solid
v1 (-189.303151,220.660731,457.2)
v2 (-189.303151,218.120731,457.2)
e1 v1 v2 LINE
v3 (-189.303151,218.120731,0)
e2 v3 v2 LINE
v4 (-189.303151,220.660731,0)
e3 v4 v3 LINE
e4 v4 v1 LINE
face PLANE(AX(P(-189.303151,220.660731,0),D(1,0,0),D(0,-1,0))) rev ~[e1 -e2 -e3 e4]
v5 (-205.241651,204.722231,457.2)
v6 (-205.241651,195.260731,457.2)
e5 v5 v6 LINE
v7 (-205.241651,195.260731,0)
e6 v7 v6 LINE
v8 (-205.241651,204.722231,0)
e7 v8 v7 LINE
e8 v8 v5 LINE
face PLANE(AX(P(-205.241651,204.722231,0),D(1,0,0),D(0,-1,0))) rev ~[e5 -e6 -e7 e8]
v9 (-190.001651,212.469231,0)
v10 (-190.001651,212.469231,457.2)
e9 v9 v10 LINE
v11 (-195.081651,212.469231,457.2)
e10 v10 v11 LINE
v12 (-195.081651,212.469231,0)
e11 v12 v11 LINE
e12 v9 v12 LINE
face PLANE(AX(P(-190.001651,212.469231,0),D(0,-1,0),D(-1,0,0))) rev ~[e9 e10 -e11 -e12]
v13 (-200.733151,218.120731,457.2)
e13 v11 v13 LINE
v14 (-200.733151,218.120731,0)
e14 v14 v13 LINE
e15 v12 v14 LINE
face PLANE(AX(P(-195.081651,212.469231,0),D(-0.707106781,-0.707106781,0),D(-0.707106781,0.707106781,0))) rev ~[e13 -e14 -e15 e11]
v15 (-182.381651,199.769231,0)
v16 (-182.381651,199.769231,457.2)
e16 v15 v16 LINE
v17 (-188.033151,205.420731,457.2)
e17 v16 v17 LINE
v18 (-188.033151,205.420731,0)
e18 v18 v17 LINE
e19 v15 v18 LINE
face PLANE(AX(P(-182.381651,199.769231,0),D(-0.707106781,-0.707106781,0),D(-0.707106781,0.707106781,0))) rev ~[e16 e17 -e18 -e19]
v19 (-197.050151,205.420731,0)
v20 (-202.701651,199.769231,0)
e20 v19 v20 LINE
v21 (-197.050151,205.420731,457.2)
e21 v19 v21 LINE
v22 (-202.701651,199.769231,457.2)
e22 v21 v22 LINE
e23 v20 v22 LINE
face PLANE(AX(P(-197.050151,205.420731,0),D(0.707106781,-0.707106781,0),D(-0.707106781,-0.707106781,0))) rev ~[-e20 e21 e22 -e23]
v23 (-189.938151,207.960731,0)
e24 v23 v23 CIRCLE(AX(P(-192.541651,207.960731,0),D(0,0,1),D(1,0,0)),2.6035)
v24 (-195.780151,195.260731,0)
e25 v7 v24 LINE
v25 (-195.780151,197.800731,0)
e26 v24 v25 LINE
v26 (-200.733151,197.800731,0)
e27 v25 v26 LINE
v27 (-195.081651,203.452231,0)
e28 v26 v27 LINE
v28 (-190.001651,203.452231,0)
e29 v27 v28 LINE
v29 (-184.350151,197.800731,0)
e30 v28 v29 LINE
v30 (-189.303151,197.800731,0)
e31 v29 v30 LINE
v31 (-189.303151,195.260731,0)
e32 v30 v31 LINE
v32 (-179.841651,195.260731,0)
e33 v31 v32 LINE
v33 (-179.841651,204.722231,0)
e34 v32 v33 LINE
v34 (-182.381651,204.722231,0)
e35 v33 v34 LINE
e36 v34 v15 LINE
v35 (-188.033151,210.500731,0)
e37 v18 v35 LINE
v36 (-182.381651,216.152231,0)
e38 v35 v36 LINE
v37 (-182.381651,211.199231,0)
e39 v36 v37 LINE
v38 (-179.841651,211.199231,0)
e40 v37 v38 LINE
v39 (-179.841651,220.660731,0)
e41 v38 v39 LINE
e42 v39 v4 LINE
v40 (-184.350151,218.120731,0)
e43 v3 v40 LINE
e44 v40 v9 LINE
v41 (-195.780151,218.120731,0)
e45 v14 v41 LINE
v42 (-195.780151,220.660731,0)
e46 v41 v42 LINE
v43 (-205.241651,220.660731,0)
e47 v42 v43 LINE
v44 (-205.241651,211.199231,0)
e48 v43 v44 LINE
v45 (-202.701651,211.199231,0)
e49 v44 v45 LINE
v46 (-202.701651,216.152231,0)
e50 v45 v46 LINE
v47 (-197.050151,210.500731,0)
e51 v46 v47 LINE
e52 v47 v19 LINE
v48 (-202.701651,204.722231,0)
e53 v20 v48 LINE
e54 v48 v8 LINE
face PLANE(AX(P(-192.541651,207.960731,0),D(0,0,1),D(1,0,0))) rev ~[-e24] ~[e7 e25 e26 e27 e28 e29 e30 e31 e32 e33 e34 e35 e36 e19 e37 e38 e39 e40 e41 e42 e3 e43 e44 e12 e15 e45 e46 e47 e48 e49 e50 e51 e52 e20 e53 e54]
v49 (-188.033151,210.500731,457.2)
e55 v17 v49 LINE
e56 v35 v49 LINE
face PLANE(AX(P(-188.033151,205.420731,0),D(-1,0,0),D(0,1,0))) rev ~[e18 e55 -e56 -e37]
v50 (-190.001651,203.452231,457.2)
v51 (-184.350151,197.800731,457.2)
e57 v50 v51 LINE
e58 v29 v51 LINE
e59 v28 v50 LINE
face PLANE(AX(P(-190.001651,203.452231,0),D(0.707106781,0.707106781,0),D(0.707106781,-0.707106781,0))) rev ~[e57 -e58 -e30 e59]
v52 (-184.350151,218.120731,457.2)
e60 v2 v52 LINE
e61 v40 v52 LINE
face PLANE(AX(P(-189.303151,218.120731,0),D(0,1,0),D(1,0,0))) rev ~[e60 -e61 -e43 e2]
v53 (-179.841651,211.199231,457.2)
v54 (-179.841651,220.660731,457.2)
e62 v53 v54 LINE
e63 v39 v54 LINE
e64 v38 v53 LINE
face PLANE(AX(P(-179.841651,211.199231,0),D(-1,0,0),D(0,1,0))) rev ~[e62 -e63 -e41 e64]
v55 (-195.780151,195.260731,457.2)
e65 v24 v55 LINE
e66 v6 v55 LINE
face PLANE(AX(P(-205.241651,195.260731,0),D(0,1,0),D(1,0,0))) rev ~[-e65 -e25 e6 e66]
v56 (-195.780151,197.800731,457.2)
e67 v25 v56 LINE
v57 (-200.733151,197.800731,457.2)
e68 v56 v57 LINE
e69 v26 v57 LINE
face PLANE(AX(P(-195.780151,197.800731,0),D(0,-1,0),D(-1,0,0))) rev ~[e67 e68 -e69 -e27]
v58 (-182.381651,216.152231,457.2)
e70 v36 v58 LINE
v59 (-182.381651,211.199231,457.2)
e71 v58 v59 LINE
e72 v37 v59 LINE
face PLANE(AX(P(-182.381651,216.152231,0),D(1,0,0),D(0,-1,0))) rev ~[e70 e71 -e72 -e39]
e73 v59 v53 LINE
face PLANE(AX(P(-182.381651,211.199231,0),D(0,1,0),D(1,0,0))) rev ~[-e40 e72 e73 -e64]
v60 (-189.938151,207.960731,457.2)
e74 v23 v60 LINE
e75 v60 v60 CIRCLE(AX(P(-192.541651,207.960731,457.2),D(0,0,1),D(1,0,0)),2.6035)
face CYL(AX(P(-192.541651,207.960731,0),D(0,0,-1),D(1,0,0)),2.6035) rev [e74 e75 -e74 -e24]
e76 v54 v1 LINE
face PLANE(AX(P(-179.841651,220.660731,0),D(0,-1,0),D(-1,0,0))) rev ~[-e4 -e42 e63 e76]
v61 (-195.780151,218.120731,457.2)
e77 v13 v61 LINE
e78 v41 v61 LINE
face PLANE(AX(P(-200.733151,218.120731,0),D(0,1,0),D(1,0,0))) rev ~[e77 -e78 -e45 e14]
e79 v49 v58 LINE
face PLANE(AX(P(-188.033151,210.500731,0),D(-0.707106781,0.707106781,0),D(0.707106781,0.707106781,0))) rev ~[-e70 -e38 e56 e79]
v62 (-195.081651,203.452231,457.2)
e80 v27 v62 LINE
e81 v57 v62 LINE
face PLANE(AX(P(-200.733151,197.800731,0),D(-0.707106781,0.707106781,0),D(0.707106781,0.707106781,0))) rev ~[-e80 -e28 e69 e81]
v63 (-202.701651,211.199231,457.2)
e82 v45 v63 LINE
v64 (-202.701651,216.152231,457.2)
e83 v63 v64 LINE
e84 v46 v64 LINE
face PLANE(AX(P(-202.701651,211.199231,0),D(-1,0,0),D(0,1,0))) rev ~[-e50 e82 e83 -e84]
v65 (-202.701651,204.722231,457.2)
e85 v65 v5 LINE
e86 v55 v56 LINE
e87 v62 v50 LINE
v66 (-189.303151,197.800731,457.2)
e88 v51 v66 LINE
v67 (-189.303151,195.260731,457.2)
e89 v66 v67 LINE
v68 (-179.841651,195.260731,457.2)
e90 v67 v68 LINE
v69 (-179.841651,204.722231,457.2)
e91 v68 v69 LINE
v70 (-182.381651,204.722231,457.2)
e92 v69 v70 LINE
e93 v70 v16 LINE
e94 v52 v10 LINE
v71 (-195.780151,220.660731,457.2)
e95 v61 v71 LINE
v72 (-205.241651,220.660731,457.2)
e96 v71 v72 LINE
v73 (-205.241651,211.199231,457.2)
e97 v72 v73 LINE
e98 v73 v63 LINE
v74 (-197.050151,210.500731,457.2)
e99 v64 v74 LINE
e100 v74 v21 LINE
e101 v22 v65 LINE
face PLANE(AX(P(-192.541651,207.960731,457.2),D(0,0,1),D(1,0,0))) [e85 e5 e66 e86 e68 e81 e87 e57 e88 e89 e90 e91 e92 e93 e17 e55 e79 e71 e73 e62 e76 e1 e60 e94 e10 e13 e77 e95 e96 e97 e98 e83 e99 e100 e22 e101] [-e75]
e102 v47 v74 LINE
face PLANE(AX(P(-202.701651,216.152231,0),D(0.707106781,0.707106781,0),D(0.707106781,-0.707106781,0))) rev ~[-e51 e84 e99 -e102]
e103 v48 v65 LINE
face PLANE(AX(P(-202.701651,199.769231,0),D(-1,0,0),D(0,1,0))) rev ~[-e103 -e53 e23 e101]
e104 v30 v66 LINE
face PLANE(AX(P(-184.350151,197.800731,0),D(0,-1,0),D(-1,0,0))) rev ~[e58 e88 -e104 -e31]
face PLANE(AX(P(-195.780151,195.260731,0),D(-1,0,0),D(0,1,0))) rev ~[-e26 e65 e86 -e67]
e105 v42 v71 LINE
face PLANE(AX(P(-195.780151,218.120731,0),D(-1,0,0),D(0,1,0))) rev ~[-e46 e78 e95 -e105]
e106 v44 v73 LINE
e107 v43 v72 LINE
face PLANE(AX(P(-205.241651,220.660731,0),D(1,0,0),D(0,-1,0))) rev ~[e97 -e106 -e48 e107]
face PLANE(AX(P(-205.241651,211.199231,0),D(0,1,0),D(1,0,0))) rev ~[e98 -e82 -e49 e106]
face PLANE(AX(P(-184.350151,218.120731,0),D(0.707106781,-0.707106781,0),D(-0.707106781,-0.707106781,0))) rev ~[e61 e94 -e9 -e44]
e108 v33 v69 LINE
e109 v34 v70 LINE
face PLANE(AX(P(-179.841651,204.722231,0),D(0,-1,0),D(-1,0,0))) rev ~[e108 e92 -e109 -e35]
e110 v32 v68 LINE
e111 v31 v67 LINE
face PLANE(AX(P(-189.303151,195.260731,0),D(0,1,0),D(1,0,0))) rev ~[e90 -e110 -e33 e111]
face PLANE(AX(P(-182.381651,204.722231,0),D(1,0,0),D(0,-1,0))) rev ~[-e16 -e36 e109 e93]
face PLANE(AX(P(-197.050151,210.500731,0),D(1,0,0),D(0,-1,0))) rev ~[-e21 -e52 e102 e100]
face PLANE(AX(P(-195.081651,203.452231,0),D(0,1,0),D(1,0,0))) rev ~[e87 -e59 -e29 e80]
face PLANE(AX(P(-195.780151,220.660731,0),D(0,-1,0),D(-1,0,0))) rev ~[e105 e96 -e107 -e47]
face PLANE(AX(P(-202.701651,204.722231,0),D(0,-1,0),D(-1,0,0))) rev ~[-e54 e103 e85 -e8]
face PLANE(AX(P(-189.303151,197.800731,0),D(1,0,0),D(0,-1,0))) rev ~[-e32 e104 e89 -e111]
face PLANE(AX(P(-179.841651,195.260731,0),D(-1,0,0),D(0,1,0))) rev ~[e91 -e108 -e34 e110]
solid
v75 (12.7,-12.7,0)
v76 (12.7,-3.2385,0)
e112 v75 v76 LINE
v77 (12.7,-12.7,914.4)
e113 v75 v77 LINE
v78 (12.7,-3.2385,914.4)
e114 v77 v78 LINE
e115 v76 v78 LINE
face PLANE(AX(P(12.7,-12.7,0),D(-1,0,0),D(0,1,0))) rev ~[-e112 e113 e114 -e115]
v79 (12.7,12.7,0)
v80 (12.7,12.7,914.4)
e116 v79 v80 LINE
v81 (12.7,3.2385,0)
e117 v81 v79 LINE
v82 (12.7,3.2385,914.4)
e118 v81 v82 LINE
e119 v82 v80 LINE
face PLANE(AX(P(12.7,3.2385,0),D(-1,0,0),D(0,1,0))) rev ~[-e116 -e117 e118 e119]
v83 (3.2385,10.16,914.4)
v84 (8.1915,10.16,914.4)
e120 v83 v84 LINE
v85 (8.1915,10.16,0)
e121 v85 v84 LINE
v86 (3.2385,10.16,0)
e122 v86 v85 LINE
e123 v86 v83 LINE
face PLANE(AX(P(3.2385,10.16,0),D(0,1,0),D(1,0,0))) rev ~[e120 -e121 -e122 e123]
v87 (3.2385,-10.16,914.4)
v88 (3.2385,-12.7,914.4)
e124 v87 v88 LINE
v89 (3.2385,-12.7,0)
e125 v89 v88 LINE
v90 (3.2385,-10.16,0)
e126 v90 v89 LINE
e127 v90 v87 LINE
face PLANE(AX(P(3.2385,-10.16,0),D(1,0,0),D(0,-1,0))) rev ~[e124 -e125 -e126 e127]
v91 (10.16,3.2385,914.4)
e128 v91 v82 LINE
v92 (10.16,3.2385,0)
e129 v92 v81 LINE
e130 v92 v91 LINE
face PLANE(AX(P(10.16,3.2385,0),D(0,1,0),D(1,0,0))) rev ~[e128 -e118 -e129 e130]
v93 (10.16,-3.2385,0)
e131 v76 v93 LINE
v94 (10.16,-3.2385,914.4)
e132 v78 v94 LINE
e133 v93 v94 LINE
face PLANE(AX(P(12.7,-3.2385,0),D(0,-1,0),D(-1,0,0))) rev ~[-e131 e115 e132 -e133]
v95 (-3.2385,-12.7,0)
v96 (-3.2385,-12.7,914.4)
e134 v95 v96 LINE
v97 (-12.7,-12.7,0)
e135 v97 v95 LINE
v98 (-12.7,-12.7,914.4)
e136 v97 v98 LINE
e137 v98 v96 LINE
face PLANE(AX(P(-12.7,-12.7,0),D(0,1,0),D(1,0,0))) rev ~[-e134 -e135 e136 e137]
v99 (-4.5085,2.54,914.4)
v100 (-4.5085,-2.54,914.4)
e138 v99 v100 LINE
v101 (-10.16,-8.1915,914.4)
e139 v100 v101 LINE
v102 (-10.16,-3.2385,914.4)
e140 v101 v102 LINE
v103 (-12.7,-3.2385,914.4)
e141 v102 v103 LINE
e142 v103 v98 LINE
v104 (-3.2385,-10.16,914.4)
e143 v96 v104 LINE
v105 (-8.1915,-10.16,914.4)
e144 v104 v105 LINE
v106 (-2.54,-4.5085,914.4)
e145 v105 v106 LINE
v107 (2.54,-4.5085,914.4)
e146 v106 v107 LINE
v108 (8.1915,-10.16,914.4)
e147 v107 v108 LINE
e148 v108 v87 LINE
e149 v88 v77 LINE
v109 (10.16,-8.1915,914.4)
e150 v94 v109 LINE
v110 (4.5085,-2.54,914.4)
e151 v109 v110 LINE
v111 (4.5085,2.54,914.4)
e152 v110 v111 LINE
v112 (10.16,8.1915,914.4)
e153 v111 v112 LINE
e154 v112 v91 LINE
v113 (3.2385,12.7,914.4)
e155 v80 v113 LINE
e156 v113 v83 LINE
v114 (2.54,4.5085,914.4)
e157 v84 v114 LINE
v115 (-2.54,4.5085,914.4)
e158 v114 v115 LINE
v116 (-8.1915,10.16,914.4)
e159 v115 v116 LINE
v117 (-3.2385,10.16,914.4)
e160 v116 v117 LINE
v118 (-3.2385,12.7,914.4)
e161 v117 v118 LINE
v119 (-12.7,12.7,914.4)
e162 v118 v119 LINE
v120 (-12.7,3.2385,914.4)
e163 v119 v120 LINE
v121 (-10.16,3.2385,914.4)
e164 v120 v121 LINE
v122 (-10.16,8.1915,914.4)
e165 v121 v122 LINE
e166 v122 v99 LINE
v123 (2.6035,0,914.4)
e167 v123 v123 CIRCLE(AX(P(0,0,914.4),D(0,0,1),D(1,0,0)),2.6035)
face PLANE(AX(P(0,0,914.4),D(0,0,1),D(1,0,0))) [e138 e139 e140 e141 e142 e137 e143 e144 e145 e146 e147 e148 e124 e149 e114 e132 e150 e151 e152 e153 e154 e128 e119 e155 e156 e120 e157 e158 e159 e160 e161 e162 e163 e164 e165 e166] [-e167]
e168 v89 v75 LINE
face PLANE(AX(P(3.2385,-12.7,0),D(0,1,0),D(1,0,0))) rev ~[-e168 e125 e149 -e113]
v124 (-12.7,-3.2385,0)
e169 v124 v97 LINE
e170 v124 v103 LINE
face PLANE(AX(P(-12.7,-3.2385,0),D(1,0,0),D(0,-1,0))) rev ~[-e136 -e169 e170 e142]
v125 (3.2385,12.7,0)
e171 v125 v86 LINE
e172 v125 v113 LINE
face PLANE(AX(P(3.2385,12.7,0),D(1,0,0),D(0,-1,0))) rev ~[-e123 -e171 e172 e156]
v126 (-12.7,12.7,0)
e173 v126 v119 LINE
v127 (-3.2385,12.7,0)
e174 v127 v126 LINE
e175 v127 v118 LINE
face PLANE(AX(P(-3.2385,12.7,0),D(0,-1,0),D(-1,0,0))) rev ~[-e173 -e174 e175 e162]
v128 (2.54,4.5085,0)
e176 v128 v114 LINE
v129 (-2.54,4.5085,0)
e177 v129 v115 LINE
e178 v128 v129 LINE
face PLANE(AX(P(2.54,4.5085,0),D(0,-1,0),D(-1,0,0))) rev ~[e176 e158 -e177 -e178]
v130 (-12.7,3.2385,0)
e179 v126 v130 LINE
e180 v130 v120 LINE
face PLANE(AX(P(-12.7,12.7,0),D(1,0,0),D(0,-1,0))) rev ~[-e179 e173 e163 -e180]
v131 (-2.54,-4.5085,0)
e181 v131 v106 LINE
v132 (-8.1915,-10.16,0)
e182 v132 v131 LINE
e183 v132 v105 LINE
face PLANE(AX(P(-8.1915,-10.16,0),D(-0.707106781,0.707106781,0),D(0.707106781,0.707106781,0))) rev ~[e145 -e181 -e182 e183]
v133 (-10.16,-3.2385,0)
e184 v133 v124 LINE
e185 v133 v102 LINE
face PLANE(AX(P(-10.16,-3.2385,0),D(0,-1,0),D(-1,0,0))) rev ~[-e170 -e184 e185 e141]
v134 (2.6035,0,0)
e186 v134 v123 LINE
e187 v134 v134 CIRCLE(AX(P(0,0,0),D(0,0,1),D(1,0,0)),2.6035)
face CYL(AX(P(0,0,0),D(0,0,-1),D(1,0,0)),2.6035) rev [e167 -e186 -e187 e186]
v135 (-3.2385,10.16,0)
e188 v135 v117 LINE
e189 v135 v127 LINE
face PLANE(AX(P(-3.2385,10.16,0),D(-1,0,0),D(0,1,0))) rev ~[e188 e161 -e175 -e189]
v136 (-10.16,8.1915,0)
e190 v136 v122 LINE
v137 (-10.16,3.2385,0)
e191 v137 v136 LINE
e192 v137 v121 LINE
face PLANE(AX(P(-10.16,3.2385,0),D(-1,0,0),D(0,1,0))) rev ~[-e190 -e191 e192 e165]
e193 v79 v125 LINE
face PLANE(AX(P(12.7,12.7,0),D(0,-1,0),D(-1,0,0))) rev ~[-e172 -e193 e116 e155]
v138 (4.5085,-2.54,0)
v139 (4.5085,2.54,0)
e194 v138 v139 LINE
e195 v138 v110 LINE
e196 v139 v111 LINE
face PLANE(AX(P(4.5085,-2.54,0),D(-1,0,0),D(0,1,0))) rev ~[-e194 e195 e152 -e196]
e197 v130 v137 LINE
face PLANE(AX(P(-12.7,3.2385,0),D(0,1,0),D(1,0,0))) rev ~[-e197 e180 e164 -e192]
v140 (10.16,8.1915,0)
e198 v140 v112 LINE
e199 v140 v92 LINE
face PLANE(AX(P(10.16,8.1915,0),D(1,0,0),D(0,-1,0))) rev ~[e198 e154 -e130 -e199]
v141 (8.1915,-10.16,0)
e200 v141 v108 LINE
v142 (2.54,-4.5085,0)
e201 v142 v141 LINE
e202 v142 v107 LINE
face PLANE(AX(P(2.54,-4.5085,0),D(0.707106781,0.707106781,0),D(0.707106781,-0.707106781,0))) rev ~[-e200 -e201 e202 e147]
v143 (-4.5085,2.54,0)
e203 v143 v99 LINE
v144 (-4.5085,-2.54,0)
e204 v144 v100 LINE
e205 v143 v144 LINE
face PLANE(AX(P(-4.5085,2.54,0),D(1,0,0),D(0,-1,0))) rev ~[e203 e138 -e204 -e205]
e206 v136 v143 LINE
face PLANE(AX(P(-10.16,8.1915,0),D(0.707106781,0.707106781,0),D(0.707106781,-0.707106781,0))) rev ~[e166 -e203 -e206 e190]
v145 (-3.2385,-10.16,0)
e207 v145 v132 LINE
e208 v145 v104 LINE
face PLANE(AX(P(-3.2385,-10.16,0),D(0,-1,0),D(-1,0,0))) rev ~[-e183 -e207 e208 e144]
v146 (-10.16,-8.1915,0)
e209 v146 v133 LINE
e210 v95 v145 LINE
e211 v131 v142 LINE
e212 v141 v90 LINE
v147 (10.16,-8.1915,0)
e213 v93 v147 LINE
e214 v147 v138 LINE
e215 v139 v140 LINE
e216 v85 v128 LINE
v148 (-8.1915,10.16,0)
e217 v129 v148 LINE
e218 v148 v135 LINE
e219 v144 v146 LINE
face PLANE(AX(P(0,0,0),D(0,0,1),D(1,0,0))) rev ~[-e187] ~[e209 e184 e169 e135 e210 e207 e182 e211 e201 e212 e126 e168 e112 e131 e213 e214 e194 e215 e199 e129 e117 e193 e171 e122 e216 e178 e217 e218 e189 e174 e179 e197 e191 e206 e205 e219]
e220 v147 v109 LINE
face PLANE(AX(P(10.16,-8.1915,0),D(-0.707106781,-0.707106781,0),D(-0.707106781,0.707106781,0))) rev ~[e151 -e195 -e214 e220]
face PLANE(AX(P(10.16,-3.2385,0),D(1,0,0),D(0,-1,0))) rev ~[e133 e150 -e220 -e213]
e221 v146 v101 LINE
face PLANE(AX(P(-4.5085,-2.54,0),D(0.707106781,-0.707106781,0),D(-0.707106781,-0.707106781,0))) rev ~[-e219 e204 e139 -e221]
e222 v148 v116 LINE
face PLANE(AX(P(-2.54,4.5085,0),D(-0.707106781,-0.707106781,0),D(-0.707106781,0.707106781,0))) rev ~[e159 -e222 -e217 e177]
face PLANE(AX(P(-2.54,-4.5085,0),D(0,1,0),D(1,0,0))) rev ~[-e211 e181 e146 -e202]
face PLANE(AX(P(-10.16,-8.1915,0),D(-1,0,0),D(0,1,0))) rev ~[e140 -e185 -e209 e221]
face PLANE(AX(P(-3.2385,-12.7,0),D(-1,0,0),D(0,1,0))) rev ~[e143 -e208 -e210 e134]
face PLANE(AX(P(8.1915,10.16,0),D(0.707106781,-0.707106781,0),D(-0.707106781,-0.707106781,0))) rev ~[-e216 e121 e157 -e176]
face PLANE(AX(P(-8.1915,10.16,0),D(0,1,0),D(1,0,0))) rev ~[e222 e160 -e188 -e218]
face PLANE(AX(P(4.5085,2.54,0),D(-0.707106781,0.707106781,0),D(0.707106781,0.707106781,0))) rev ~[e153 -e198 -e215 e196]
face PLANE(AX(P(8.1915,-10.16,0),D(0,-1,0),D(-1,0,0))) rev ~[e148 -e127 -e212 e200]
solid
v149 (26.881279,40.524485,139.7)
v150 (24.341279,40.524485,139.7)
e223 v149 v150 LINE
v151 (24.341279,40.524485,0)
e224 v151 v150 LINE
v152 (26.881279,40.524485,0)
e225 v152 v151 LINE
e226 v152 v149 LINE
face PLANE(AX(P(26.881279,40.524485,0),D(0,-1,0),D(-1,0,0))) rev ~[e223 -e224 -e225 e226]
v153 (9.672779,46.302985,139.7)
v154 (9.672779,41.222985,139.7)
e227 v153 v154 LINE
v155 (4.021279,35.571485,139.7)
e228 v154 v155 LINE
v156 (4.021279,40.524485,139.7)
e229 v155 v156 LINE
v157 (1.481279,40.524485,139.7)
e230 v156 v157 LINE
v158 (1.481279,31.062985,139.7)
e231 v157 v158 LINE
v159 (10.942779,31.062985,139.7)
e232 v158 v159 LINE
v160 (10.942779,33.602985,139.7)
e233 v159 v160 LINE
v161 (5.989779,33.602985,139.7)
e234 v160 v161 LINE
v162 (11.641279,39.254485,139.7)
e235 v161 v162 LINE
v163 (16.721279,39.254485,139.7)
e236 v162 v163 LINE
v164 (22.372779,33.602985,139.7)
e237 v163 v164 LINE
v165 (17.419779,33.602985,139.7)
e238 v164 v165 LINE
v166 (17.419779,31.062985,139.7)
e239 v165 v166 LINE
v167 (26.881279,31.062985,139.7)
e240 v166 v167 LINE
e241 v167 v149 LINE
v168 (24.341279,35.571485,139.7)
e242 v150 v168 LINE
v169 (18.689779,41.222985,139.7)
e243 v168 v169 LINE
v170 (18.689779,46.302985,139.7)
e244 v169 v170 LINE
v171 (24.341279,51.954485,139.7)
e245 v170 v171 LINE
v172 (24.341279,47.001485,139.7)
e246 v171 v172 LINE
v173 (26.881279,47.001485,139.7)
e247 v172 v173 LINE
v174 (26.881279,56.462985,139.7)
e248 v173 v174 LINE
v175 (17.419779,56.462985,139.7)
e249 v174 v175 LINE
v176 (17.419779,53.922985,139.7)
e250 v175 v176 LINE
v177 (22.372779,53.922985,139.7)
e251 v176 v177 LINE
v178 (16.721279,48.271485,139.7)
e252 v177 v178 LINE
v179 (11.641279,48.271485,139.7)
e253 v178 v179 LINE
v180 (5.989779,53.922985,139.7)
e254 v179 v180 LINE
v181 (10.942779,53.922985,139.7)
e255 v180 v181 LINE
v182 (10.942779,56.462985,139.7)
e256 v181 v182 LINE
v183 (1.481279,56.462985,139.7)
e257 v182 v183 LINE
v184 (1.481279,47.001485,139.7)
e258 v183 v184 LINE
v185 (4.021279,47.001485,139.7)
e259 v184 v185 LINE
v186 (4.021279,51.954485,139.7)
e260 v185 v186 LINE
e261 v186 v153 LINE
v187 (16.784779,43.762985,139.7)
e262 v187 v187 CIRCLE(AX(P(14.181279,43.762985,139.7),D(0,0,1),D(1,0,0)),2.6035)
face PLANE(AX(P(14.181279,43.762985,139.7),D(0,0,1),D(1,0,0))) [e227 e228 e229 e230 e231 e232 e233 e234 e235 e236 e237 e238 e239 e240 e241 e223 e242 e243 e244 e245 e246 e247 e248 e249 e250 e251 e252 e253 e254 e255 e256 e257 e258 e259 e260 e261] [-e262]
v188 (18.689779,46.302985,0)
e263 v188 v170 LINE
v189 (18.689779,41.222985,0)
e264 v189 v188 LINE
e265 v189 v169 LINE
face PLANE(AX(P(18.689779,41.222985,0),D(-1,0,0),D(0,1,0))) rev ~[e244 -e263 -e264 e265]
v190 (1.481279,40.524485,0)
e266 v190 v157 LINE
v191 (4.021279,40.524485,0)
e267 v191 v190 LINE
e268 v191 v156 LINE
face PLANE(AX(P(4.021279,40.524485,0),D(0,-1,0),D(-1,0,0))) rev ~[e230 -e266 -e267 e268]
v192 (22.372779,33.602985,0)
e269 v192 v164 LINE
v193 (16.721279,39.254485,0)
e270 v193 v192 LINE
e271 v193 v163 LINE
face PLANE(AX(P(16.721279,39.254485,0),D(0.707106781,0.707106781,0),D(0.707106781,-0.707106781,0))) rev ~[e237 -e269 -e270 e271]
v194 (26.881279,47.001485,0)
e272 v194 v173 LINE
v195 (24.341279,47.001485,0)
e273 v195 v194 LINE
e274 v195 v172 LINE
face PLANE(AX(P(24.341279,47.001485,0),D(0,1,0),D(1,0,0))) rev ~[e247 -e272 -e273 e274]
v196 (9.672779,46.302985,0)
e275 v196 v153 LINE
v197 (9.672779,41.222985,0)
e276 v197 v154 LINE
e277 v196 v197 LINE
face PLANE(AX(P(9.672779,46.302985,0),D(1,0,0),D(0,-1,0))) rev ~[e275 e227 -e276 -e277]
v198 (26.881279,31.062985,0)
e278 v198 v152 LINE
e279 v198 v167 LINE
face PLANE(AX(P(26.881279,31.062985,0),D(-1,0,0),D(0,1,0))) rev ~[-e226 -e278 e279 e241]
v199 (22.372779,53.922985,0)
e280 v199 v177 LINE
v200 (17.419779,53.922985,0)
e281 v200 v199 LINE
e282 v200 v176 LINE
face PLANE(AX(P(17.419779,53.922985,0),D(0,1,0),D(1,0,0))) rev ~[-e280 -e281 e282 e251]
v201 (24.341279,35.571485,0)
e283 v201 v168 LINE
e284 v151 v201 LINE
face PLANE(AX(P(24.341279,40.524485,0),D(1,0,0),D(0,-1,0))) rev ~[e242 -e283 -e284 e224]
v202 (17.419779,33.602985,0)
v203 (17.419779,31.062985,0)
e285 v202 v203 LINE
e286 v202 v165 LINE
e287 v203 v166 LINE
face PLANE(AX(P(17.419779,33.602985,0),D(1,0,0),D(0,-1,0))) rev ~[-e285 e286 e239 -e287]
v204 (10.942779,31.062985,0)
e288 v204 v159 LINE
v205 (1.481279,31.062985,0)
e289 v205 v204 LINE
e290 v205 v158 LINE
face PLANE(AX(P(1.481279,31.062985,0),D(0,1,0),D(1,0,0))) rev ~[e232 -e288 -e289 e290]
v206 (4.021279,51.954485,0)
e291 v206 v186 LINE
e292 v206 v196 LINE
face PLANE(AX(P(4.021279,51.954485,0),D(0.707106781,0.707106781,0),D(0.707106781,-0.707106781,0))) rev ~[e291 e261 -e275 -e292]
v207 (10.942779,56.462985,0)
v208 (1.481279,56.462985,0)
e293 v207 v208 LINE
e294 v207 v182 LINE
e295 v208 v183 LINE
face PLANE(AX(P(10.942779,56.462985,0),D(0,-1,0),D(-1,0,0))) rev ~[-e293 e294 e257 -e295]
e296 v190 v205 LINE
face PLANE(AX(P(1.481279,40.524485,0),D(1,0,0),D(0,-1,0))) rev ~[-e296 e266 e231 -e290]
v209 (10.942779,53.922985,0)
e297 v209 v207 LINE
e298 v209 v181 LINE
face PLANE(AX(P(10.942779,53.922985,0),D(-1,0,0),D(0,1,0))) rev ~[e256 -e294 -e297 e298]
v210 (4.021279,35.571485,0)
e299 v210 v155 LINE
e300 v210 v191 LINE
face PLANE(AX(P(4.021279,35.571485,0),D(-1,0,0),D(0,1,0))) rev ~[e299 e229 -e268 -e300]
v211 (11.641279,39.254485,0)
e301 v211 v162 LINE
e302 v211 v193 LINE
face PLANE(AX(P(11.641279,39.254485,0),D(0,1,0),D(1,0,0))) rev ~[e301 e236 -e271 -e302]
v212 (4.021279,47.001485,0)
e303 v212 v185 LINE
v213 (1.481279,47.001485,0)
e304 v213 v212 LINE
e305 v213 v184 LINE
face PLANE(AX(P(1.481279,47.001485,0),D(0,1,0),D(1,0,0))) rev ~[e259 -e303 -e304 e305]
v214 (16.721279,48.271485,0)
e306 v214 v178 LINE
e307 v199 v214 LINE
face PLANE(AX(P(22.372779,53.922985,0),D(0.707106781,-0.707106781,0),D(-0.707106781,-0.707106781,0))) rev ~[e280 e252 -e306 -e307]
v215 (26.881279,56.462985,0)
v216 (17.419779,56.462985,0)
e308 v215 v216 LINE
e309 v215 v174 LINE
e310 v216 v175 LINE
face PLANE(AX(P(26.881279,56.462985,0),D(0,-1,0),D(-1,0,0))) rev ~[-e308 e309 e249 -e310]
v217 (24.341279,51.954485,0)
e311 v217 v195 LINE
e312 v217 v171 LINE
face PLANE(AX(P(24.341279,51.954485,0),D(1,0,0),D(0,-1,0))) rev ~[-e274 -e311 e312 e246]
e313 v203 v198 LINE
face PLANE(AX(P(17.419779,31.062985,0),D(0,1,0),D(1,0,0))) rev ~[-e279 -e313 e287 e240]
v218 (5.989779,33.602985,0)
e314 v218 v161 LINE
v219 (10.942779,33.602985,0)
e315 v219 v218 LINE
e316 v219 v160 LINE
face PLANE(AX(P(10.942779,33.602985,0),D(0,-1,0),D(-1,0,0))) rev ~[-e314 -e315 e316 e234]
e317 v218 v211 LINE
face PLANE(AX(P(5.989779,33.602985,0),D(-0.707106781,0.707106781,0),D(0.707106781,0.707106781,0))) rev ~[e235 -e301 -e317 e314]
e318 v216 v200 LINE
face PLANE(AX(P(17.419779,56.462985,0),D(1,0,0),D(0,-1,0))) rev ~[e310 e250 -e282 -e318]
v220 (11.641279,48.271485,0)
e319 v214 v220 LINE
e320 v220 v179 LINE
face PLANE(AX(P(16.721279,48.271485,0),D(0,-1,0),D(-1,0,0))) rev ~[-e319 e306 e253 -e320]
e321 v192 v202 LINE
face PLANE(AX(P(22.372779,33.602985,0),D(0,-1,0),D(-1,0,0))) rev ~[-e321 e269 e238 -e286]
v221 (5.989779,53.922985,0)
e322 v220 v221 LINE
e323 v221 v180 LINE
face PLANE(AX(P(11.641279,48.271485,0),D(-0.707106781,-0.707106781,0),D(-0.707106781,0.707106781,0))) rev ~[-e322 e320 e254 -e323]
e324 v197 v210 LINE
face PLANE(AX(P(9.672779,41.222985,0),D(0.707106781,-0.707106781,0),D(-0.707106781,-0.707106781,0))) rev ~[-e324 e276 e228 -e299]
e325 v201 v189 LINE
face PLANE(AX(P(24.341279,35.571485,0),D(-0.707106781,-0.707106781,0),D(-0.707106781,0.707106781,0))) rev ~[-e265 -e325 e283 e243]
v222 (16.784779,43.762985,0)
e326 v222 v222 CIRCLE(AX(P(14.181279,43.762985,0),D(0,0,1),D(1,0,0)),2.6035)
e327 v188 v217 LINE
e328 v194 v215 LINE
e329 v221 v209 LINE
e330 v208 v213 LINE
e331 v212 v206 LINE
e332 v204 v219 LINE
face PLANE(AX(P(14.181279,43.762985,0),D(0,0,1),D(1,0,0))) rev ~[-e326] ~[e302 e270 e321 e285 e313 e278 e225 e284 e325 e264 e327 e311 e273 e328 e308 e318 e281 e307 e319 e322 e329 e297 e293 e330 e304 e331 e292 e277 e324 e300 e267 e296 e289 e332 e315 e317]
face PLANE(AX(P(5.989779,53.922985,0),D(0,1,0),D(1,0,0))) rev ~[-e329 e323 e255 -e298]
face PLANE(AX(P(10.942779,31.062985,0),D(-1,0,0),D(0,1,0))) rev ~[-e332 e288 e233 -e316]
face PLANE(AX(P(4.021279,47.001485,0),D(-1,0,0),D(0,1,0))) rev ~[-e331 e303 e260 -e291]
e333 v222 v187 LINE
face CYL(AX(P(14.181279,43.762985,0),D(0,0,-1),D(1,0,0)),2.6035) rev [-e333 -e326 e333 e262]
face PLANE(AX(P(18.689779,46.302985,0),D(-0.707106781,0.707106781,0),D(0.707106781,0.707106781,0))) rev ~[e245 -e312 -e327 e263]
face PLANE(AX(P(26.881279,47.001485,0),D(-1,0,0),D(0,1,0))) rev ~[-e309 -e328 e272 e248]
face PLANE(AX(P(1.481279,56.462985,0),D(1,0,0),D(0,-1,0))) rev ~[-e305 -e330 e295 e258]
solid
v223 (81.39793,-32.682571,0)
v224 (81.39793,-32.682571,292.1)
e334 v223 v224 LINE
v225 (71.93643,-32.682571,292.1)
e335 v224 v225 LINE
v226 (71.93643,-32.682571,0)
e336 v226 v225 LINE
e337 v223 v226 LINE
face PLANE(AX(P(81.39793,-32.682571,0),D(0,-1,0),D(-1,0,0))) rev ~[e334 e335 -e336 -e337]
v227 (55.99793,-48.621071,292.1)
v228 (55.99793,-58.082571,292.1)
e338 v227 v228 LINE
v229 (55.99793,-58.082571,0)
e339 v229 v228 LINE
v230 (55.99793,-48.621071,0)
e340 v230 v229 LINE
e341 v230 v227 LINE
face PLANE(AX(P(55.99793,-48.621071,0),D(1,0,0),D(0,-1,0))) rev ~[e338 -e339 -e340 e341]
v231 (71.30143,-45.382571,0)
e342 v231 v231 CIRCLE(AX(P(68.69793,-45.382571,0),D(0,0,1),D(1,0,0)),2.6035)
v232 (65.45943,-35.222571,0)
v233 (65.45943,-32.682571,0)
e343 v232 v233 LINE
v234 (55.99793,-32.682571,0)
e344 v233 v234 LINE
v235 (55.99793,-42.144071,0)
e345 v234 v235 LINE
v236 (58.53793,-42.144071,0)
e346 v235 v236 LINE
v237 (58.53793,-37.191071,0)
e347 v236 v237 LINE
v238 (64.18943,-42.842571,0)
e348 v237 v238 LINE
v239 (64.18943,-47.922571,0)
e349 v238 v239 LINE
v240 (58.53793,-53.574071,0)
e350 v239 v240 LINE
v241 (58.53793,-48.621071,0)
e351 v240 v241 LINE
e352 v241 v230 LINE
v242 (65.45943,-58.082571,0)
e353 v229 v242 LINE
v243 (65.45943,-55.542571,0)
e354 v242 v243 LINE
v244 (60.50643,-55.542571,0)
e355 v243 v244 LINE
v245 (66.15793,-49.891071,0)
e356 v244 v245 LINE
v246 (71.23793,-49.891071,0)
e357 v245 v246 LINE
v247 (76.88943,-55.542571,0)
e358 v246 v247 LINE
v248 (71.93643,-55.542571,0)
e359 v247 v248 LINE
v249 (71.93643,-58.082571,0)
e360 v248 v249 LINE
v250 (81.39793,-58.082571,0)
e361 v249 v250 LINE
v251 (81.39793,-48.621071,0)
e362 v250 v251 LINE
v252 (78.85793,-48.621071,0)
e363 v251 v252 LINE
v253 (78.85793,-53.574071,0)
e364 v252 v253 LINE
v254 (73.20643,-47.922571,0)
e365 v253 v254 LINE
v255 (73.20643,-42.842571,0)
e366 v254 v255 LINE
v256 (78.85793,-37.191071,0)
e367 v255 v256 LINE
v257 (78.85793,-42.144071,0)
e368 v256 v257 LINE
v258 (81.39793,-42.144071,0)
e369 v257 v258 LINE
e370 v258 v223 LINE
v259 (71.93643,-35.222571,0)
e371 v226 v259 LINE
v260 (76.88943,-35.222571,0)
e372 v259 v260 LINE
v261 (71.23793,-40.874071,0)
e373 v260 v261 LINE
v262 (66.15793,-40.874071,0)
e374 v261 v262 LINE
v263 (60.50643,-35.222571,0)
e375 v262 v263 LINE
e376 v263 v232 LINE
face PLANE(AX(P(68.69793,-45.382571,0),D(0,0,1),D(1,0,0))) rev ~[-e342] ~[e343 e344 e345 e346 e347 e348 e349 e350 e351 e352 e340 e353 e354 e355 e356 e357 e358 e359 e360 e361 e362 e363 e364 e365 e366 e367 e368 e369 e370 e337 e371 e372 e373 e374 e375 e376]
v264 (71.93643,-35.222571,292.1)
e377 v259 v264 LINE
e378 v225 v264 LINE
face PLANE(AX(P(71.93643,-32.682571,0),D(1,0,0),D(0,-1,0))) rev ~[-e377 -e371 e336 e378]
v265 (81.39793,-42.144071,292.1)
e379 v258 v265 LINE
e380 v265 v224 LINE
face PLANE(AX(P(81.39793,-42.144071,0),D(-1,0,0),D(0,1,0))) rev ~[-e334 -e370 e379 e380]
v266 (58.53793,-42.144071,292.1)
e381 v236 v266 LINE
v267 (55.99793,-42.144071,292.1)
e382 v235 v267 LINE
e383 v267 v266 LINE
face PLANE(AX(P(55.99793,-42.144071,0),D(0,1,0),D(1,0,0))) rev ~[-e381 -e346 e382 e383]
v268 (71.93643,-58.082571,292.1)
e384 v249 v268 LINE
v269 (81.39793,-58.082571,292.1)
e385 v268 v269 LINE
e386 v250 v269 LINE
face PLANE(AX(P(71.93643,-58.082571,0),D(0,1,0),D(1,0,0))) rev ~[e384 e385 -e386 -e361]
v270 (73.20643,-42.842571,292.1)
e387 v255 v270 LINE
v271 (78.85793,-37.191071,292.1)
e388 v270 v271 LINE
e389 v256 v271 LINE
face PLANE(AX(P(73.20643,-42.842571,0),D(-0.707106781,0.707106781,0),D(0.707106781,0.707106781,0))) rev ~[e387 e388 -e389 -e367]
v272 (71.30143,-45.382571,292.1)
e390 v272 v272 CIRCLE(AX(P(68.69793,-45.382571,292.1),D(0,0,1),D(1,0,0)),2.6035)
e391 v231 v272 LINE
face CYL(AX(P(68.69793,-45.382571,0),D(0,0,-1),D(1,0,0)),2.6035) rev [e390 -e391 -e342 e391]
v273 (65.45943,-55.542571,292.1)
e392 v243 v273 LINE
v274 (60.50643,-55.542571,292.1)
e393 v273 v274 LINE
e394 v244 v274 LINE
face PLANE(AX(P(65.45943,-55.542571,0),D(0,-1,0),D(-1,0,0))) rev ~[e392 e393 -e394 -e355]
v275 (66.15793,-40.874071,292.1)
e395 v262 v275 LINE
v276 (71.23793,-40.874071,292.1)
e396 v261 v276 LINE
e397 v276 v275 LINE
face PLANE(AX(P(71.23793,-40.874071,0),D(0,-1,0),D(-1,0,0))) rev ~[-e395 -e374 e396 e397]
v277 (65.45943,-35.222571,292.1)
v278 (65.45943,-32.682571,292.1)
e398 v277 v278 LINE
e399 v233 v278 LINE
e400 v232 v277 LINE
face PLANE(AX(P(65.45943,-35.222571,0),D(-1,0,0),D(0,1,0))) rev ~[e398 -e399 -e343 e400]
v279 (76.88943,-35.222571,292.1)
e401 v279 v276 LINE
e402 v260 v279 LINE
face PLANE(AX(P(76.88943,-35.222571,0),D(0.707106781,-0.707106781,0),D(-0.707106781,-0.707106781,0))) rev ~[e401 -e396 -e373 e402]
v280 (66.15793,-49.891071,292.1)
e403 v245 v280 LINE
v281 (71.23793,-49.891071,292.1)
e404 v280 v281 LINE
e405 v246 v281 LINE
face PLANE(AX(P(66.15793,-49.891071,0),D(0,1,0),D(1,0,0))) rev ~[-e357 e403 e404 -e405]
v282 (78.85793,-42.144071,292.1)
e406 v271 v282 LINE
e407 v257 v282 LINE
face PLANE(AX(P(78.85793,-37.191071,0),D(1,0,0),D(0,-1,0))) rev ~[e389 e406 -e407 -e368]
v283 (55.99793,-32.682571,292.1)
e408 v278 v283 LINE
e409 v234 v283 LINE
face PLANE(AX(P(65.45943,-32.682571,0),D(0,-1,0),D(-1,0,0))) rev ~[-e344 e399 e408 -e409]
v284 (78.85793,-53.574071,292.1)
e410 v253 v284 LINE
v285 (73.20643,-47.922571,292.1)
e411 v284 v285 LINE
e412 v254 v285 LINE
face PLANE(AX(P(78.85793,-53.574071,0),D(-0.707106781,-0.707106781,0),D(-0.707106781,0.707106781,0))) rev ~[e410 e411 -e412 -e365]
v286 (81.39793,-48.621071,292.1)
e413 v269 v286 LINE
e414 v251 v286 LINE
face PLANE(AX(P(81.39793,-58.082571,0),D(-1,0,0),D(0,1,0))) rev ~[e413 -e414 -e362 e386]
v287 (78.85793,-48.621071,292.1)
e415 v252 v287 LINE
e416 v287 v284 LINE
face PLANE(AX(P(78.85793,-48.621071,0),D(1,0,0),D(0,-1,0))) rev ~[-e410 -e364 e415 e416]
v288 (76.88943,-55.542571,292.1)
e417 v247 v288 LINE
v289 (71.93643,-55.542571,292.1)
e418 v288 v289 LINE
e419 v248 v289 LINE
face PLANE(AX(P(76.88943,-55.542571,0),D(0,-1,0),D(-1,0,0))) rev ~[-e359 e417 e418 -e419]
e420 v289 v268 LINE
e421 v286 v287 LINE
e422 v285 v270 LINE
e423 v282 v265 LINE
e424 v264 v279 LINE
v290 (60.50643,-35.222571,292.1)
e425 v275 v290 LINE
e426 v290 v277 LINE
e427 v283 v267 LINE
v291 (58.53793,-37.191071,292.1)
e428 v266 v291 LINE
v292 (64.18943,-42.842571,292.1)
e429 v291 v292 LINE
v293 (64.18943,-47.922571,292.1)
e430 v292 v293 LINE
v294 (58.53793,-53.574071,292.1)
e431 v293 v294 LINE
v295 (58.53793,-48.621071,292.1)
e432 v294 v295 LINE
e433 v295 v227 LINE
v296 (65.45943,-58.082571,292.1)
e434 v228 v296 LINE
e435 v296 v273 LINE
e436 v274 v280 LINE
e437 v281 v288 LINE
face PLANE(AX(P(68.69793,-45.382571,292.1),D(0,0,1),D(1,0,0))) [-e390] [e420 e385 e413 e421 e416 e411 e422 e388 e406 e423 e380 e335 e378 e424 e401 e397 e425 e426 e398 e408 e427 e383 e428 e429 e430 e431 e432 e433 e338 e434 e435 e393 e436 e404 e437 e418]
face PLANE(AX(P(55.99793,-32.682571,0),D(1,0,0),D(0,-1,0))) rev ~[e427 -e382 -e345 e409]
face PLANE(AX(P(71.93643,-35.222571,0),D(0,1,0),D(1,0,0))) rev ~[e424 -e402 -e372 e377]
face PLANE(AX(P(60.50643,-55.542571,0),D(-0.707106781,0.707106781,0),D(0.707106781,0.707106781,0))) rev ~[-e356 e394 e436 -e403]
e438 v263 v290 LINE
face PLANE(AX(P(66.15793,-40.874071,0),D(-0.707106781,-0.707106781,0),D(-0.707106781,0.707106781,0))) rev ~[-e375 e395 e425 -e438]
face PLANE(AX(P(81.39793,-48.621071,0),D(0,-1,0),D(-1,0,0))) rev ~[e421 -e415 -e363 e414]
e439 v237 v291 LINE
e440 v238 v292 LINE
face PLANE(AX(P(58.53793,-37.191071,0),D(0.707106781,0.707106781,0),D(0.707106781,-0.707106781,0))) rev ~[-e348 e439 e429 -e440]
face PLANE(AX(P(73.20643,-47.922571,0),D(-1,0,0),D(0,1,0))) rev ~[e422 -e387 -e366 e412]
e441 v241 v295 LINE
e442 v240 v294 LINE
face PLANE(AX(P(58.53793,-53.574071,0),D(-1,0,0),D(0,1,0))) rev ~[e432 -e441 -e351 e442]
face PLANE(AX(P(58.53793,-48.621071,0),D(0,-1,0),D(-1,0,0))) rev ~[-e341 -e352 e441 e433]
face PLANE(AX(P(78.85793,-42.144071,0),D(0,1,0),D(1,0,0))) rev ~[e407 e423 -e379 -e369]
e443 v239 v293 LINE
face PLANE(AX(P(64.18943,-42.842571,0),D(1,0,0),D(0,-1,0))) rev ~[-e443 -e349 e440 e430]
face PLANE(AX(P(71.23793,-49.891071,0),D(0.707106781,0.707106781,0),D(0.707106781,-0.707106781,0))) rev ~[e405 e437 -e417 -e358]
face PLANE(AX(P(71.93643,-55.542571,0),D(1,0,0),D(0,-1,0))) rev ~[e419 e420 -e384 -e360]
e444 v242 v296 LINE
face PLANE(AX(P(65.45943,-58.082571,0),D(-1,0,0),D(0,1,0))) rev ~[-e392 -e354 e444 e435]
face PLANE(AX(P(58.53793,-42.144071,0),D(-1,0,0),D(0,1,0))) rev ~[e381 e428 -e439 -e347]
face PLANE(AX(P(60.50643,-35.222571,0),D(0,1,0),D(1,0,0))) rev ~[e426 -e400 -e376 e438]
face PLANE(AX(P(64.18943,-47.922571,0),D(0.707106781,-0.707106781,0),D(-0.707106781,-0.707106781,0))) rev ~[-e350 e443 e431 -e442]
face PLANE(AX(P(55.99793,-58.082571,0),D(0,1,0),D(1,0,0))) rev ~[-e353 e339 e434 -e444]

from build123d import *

# Parameters (mm, degrees)
F0_R     = 2.6035
F1_DEPTH = 914.4
F2_R     = 2.6035
F3_DEPTH = 292.1
F4_R     = 2.6035
F5_DEPTH = 139.7
F6_R     = 2.6035
F7_DEPTH = 457.2


with BuildPart() as f1:
    # F0 (on Top) → F1 (new body)
    with BuildSketch(Plane.XY):
        Polygon((2.54, 4.5085), (-2.54, 4.5085), (-8.1915, 10.16), (-3.2385, 10.16), (-3.2385, 12.7), (-12.7, 12.7), (-12.7, 3.2385), (-10.16, 3.2385), (-10.16, 8.1915), (-4.5085, 2.54), (-4.5085, -2.54), (-10.16, -8.1915), (-10.16, -3.2385), (-12.7, -3.2385), (-12.7, -12.7), (-3.2385, -12.7), (-3.2385, -10.16), (-8.1915, -10.16), (-2.54, -4.5085), (2.54, -4.5085), (8.1915, -10.16), (3.2385, -10.16), (3.2385, -12.7), (12.7, -12.7), (12.7, -3.2385), (10.16, -3.2385), (10.16, -8.1915), (4.5085, -2.54), (4.5085, 2.54), (10.16, 8.1915), (10.16, 3.2385), (12.7, 3.2385), (12.7, 12.7), (3.2385, 12.7), (3.2385, 10.16), (8.1915, 10.16), align=None)
        Circle(F0_R, mode=Mode.SUBTRACT)
    extrude(amount=F1_DEPTH)


with BuildPart() as f3:
    # F2 (on Top) → F3 (new body)
    with BuildSketch(Plane.XY):
        Polygon((71.23793, -40.874071), (66.15793, -40.874071), (60.50643, -35.222571), (65.45943, -35.222571), (65.45943, -32.682571), (55.99793, -32.682571), (55.99793, -42.144071), (58.53793, -42.144071), (58.53793, -37.191071), (64.18943, -42.842571), (64.18943, -47.922571), (58.53793, -53.574071), (58.53793, -48.621071), (55.99793, -48.621071), (55.99793, -58.082571), (65.45943, -58.082571), (65.45943, -55.542571), (60.50643, -55.542571), (66.15793, -49.891071), (71.23793, -49.891071), (76.88943, -55.542571), (71.93643, -55.542571), (71.93643, -58.082571), (81.39793, -58.082571), (81.39793, -48.621071), (78.85793, -48.621071), (78.85793, -53.574071), (73.20643, -47.922571), (73.20643, -42.842571), (78.85793, -37.191071), (78.85793, -42.144071), (81.39793, -42.144071), (81.39793, -32.682571), (71.93643, -32.682571), (71.93643, -35.222571), (76.88943, -35.222571), align=None)
        with Locations((68.69793, -45.382571)):
            Circle(F2_R, mode=Mode.SUBTRACT)
    extrude(amount=F3_DEPTH)


with BuildPart() as f5:
    # F4 (on Top) → F5 (new body)
    with BuildSketch(Plane.XY):
        Polygon((16.721279, 48.271485), (11.641279, 48.271485), (5.989779, 53.922985), (10.942779, 53.922985), (10.942779, 56.462985), (1.481279, 56.462985), (1.481279, 47.001485), (4.021279, 47.001485), (4.021279, 51.954485), (9.672779, 46.302985), (9.672779, 41.222985), (4.021279, 35.571485), (4.021279, 40.524485), (1.481279, 40.524485), (1.481279, 31.062985), (10.942779, 31.062985), (10.942779, 33.602985), (5.989779, 33.602985), (11.641279, 39.254485), (16.721279, 39.254485), (22.372779, 33.602985), (17.419779, 33.602985), (17.419779, 31.062985), (26.881279, 31.062985), (26.881279, 40.524485), (24.341279, 40.524485), (24.341279, 35.571485), (18.689779, 41.222985), (18.689779, 46.302985), (24.341279, 51.954485), (24.341279, 47.001485), (26.881279, 47.001485), (26.881279, 56.462985), (17.419779, 56.462985), (17.419779, 53.922985), (22.372779, 53.922985), align=None)
        with Locations((14.181279, 43.762985)):
            Circle(F4_R, mode=Mode.SUBTRACT)
    extrude(amount=F5_DEPTH)


with BuildPart() as f7:
    # F6 (on Top) → F7 (new body)
    with BuildSketch(Plane.XY):
        Polygon((-190.001651, 212.469231), (-195.081651, 212.469231), (-200.733151, 218.120731), (-195.780151, 218.120731), (-195.780151, 220.660731), (-205.241651, 220.660731), (-205.241651, 211.199231), (-202.701651, 211.199231), (-202.701651, 216.152231), (-197.050151, 210.500731), (-197.050151, 205.420731), (-202.701651, 199.769231), (-202.701651, 204.722231), (-205.241651, 204.722231), (-205.241651, 195.260731), (-195.780151, 195.260731), (-195.780151, 197.800731), (-200.733151, 197.800731), (-195.081651, 203.452231), (-190.001651, 203.452231), (-184.350151, 197.800731), (-189.303151, 197.800731), (-189.303151, 195.260731), (-179.841651, 195.260731), (-179.841651, 204.722231), (-182.381651, 204.722231), (-182.381651, 199.769231), (-188.033151, 205.420731), (-188.033151, 210.500731), (-182.381651, 216.152231), (-182.381651, 211.199231), (-179.841651, 211.199231), (-179.841651, 220.660731), (-189.303151, 220.660731), (-189.303151, 218.120731), (-184.350151, 218.120731), align=None)
        with Locations((-192.541651, 207.960731)):
            Circle(F6_R, mode=Mode.SUBTRACT)
    extrude(amount=F7_DEPTH)


solid = Compound([f1.part, f3.part, f5.part, f7.part])
